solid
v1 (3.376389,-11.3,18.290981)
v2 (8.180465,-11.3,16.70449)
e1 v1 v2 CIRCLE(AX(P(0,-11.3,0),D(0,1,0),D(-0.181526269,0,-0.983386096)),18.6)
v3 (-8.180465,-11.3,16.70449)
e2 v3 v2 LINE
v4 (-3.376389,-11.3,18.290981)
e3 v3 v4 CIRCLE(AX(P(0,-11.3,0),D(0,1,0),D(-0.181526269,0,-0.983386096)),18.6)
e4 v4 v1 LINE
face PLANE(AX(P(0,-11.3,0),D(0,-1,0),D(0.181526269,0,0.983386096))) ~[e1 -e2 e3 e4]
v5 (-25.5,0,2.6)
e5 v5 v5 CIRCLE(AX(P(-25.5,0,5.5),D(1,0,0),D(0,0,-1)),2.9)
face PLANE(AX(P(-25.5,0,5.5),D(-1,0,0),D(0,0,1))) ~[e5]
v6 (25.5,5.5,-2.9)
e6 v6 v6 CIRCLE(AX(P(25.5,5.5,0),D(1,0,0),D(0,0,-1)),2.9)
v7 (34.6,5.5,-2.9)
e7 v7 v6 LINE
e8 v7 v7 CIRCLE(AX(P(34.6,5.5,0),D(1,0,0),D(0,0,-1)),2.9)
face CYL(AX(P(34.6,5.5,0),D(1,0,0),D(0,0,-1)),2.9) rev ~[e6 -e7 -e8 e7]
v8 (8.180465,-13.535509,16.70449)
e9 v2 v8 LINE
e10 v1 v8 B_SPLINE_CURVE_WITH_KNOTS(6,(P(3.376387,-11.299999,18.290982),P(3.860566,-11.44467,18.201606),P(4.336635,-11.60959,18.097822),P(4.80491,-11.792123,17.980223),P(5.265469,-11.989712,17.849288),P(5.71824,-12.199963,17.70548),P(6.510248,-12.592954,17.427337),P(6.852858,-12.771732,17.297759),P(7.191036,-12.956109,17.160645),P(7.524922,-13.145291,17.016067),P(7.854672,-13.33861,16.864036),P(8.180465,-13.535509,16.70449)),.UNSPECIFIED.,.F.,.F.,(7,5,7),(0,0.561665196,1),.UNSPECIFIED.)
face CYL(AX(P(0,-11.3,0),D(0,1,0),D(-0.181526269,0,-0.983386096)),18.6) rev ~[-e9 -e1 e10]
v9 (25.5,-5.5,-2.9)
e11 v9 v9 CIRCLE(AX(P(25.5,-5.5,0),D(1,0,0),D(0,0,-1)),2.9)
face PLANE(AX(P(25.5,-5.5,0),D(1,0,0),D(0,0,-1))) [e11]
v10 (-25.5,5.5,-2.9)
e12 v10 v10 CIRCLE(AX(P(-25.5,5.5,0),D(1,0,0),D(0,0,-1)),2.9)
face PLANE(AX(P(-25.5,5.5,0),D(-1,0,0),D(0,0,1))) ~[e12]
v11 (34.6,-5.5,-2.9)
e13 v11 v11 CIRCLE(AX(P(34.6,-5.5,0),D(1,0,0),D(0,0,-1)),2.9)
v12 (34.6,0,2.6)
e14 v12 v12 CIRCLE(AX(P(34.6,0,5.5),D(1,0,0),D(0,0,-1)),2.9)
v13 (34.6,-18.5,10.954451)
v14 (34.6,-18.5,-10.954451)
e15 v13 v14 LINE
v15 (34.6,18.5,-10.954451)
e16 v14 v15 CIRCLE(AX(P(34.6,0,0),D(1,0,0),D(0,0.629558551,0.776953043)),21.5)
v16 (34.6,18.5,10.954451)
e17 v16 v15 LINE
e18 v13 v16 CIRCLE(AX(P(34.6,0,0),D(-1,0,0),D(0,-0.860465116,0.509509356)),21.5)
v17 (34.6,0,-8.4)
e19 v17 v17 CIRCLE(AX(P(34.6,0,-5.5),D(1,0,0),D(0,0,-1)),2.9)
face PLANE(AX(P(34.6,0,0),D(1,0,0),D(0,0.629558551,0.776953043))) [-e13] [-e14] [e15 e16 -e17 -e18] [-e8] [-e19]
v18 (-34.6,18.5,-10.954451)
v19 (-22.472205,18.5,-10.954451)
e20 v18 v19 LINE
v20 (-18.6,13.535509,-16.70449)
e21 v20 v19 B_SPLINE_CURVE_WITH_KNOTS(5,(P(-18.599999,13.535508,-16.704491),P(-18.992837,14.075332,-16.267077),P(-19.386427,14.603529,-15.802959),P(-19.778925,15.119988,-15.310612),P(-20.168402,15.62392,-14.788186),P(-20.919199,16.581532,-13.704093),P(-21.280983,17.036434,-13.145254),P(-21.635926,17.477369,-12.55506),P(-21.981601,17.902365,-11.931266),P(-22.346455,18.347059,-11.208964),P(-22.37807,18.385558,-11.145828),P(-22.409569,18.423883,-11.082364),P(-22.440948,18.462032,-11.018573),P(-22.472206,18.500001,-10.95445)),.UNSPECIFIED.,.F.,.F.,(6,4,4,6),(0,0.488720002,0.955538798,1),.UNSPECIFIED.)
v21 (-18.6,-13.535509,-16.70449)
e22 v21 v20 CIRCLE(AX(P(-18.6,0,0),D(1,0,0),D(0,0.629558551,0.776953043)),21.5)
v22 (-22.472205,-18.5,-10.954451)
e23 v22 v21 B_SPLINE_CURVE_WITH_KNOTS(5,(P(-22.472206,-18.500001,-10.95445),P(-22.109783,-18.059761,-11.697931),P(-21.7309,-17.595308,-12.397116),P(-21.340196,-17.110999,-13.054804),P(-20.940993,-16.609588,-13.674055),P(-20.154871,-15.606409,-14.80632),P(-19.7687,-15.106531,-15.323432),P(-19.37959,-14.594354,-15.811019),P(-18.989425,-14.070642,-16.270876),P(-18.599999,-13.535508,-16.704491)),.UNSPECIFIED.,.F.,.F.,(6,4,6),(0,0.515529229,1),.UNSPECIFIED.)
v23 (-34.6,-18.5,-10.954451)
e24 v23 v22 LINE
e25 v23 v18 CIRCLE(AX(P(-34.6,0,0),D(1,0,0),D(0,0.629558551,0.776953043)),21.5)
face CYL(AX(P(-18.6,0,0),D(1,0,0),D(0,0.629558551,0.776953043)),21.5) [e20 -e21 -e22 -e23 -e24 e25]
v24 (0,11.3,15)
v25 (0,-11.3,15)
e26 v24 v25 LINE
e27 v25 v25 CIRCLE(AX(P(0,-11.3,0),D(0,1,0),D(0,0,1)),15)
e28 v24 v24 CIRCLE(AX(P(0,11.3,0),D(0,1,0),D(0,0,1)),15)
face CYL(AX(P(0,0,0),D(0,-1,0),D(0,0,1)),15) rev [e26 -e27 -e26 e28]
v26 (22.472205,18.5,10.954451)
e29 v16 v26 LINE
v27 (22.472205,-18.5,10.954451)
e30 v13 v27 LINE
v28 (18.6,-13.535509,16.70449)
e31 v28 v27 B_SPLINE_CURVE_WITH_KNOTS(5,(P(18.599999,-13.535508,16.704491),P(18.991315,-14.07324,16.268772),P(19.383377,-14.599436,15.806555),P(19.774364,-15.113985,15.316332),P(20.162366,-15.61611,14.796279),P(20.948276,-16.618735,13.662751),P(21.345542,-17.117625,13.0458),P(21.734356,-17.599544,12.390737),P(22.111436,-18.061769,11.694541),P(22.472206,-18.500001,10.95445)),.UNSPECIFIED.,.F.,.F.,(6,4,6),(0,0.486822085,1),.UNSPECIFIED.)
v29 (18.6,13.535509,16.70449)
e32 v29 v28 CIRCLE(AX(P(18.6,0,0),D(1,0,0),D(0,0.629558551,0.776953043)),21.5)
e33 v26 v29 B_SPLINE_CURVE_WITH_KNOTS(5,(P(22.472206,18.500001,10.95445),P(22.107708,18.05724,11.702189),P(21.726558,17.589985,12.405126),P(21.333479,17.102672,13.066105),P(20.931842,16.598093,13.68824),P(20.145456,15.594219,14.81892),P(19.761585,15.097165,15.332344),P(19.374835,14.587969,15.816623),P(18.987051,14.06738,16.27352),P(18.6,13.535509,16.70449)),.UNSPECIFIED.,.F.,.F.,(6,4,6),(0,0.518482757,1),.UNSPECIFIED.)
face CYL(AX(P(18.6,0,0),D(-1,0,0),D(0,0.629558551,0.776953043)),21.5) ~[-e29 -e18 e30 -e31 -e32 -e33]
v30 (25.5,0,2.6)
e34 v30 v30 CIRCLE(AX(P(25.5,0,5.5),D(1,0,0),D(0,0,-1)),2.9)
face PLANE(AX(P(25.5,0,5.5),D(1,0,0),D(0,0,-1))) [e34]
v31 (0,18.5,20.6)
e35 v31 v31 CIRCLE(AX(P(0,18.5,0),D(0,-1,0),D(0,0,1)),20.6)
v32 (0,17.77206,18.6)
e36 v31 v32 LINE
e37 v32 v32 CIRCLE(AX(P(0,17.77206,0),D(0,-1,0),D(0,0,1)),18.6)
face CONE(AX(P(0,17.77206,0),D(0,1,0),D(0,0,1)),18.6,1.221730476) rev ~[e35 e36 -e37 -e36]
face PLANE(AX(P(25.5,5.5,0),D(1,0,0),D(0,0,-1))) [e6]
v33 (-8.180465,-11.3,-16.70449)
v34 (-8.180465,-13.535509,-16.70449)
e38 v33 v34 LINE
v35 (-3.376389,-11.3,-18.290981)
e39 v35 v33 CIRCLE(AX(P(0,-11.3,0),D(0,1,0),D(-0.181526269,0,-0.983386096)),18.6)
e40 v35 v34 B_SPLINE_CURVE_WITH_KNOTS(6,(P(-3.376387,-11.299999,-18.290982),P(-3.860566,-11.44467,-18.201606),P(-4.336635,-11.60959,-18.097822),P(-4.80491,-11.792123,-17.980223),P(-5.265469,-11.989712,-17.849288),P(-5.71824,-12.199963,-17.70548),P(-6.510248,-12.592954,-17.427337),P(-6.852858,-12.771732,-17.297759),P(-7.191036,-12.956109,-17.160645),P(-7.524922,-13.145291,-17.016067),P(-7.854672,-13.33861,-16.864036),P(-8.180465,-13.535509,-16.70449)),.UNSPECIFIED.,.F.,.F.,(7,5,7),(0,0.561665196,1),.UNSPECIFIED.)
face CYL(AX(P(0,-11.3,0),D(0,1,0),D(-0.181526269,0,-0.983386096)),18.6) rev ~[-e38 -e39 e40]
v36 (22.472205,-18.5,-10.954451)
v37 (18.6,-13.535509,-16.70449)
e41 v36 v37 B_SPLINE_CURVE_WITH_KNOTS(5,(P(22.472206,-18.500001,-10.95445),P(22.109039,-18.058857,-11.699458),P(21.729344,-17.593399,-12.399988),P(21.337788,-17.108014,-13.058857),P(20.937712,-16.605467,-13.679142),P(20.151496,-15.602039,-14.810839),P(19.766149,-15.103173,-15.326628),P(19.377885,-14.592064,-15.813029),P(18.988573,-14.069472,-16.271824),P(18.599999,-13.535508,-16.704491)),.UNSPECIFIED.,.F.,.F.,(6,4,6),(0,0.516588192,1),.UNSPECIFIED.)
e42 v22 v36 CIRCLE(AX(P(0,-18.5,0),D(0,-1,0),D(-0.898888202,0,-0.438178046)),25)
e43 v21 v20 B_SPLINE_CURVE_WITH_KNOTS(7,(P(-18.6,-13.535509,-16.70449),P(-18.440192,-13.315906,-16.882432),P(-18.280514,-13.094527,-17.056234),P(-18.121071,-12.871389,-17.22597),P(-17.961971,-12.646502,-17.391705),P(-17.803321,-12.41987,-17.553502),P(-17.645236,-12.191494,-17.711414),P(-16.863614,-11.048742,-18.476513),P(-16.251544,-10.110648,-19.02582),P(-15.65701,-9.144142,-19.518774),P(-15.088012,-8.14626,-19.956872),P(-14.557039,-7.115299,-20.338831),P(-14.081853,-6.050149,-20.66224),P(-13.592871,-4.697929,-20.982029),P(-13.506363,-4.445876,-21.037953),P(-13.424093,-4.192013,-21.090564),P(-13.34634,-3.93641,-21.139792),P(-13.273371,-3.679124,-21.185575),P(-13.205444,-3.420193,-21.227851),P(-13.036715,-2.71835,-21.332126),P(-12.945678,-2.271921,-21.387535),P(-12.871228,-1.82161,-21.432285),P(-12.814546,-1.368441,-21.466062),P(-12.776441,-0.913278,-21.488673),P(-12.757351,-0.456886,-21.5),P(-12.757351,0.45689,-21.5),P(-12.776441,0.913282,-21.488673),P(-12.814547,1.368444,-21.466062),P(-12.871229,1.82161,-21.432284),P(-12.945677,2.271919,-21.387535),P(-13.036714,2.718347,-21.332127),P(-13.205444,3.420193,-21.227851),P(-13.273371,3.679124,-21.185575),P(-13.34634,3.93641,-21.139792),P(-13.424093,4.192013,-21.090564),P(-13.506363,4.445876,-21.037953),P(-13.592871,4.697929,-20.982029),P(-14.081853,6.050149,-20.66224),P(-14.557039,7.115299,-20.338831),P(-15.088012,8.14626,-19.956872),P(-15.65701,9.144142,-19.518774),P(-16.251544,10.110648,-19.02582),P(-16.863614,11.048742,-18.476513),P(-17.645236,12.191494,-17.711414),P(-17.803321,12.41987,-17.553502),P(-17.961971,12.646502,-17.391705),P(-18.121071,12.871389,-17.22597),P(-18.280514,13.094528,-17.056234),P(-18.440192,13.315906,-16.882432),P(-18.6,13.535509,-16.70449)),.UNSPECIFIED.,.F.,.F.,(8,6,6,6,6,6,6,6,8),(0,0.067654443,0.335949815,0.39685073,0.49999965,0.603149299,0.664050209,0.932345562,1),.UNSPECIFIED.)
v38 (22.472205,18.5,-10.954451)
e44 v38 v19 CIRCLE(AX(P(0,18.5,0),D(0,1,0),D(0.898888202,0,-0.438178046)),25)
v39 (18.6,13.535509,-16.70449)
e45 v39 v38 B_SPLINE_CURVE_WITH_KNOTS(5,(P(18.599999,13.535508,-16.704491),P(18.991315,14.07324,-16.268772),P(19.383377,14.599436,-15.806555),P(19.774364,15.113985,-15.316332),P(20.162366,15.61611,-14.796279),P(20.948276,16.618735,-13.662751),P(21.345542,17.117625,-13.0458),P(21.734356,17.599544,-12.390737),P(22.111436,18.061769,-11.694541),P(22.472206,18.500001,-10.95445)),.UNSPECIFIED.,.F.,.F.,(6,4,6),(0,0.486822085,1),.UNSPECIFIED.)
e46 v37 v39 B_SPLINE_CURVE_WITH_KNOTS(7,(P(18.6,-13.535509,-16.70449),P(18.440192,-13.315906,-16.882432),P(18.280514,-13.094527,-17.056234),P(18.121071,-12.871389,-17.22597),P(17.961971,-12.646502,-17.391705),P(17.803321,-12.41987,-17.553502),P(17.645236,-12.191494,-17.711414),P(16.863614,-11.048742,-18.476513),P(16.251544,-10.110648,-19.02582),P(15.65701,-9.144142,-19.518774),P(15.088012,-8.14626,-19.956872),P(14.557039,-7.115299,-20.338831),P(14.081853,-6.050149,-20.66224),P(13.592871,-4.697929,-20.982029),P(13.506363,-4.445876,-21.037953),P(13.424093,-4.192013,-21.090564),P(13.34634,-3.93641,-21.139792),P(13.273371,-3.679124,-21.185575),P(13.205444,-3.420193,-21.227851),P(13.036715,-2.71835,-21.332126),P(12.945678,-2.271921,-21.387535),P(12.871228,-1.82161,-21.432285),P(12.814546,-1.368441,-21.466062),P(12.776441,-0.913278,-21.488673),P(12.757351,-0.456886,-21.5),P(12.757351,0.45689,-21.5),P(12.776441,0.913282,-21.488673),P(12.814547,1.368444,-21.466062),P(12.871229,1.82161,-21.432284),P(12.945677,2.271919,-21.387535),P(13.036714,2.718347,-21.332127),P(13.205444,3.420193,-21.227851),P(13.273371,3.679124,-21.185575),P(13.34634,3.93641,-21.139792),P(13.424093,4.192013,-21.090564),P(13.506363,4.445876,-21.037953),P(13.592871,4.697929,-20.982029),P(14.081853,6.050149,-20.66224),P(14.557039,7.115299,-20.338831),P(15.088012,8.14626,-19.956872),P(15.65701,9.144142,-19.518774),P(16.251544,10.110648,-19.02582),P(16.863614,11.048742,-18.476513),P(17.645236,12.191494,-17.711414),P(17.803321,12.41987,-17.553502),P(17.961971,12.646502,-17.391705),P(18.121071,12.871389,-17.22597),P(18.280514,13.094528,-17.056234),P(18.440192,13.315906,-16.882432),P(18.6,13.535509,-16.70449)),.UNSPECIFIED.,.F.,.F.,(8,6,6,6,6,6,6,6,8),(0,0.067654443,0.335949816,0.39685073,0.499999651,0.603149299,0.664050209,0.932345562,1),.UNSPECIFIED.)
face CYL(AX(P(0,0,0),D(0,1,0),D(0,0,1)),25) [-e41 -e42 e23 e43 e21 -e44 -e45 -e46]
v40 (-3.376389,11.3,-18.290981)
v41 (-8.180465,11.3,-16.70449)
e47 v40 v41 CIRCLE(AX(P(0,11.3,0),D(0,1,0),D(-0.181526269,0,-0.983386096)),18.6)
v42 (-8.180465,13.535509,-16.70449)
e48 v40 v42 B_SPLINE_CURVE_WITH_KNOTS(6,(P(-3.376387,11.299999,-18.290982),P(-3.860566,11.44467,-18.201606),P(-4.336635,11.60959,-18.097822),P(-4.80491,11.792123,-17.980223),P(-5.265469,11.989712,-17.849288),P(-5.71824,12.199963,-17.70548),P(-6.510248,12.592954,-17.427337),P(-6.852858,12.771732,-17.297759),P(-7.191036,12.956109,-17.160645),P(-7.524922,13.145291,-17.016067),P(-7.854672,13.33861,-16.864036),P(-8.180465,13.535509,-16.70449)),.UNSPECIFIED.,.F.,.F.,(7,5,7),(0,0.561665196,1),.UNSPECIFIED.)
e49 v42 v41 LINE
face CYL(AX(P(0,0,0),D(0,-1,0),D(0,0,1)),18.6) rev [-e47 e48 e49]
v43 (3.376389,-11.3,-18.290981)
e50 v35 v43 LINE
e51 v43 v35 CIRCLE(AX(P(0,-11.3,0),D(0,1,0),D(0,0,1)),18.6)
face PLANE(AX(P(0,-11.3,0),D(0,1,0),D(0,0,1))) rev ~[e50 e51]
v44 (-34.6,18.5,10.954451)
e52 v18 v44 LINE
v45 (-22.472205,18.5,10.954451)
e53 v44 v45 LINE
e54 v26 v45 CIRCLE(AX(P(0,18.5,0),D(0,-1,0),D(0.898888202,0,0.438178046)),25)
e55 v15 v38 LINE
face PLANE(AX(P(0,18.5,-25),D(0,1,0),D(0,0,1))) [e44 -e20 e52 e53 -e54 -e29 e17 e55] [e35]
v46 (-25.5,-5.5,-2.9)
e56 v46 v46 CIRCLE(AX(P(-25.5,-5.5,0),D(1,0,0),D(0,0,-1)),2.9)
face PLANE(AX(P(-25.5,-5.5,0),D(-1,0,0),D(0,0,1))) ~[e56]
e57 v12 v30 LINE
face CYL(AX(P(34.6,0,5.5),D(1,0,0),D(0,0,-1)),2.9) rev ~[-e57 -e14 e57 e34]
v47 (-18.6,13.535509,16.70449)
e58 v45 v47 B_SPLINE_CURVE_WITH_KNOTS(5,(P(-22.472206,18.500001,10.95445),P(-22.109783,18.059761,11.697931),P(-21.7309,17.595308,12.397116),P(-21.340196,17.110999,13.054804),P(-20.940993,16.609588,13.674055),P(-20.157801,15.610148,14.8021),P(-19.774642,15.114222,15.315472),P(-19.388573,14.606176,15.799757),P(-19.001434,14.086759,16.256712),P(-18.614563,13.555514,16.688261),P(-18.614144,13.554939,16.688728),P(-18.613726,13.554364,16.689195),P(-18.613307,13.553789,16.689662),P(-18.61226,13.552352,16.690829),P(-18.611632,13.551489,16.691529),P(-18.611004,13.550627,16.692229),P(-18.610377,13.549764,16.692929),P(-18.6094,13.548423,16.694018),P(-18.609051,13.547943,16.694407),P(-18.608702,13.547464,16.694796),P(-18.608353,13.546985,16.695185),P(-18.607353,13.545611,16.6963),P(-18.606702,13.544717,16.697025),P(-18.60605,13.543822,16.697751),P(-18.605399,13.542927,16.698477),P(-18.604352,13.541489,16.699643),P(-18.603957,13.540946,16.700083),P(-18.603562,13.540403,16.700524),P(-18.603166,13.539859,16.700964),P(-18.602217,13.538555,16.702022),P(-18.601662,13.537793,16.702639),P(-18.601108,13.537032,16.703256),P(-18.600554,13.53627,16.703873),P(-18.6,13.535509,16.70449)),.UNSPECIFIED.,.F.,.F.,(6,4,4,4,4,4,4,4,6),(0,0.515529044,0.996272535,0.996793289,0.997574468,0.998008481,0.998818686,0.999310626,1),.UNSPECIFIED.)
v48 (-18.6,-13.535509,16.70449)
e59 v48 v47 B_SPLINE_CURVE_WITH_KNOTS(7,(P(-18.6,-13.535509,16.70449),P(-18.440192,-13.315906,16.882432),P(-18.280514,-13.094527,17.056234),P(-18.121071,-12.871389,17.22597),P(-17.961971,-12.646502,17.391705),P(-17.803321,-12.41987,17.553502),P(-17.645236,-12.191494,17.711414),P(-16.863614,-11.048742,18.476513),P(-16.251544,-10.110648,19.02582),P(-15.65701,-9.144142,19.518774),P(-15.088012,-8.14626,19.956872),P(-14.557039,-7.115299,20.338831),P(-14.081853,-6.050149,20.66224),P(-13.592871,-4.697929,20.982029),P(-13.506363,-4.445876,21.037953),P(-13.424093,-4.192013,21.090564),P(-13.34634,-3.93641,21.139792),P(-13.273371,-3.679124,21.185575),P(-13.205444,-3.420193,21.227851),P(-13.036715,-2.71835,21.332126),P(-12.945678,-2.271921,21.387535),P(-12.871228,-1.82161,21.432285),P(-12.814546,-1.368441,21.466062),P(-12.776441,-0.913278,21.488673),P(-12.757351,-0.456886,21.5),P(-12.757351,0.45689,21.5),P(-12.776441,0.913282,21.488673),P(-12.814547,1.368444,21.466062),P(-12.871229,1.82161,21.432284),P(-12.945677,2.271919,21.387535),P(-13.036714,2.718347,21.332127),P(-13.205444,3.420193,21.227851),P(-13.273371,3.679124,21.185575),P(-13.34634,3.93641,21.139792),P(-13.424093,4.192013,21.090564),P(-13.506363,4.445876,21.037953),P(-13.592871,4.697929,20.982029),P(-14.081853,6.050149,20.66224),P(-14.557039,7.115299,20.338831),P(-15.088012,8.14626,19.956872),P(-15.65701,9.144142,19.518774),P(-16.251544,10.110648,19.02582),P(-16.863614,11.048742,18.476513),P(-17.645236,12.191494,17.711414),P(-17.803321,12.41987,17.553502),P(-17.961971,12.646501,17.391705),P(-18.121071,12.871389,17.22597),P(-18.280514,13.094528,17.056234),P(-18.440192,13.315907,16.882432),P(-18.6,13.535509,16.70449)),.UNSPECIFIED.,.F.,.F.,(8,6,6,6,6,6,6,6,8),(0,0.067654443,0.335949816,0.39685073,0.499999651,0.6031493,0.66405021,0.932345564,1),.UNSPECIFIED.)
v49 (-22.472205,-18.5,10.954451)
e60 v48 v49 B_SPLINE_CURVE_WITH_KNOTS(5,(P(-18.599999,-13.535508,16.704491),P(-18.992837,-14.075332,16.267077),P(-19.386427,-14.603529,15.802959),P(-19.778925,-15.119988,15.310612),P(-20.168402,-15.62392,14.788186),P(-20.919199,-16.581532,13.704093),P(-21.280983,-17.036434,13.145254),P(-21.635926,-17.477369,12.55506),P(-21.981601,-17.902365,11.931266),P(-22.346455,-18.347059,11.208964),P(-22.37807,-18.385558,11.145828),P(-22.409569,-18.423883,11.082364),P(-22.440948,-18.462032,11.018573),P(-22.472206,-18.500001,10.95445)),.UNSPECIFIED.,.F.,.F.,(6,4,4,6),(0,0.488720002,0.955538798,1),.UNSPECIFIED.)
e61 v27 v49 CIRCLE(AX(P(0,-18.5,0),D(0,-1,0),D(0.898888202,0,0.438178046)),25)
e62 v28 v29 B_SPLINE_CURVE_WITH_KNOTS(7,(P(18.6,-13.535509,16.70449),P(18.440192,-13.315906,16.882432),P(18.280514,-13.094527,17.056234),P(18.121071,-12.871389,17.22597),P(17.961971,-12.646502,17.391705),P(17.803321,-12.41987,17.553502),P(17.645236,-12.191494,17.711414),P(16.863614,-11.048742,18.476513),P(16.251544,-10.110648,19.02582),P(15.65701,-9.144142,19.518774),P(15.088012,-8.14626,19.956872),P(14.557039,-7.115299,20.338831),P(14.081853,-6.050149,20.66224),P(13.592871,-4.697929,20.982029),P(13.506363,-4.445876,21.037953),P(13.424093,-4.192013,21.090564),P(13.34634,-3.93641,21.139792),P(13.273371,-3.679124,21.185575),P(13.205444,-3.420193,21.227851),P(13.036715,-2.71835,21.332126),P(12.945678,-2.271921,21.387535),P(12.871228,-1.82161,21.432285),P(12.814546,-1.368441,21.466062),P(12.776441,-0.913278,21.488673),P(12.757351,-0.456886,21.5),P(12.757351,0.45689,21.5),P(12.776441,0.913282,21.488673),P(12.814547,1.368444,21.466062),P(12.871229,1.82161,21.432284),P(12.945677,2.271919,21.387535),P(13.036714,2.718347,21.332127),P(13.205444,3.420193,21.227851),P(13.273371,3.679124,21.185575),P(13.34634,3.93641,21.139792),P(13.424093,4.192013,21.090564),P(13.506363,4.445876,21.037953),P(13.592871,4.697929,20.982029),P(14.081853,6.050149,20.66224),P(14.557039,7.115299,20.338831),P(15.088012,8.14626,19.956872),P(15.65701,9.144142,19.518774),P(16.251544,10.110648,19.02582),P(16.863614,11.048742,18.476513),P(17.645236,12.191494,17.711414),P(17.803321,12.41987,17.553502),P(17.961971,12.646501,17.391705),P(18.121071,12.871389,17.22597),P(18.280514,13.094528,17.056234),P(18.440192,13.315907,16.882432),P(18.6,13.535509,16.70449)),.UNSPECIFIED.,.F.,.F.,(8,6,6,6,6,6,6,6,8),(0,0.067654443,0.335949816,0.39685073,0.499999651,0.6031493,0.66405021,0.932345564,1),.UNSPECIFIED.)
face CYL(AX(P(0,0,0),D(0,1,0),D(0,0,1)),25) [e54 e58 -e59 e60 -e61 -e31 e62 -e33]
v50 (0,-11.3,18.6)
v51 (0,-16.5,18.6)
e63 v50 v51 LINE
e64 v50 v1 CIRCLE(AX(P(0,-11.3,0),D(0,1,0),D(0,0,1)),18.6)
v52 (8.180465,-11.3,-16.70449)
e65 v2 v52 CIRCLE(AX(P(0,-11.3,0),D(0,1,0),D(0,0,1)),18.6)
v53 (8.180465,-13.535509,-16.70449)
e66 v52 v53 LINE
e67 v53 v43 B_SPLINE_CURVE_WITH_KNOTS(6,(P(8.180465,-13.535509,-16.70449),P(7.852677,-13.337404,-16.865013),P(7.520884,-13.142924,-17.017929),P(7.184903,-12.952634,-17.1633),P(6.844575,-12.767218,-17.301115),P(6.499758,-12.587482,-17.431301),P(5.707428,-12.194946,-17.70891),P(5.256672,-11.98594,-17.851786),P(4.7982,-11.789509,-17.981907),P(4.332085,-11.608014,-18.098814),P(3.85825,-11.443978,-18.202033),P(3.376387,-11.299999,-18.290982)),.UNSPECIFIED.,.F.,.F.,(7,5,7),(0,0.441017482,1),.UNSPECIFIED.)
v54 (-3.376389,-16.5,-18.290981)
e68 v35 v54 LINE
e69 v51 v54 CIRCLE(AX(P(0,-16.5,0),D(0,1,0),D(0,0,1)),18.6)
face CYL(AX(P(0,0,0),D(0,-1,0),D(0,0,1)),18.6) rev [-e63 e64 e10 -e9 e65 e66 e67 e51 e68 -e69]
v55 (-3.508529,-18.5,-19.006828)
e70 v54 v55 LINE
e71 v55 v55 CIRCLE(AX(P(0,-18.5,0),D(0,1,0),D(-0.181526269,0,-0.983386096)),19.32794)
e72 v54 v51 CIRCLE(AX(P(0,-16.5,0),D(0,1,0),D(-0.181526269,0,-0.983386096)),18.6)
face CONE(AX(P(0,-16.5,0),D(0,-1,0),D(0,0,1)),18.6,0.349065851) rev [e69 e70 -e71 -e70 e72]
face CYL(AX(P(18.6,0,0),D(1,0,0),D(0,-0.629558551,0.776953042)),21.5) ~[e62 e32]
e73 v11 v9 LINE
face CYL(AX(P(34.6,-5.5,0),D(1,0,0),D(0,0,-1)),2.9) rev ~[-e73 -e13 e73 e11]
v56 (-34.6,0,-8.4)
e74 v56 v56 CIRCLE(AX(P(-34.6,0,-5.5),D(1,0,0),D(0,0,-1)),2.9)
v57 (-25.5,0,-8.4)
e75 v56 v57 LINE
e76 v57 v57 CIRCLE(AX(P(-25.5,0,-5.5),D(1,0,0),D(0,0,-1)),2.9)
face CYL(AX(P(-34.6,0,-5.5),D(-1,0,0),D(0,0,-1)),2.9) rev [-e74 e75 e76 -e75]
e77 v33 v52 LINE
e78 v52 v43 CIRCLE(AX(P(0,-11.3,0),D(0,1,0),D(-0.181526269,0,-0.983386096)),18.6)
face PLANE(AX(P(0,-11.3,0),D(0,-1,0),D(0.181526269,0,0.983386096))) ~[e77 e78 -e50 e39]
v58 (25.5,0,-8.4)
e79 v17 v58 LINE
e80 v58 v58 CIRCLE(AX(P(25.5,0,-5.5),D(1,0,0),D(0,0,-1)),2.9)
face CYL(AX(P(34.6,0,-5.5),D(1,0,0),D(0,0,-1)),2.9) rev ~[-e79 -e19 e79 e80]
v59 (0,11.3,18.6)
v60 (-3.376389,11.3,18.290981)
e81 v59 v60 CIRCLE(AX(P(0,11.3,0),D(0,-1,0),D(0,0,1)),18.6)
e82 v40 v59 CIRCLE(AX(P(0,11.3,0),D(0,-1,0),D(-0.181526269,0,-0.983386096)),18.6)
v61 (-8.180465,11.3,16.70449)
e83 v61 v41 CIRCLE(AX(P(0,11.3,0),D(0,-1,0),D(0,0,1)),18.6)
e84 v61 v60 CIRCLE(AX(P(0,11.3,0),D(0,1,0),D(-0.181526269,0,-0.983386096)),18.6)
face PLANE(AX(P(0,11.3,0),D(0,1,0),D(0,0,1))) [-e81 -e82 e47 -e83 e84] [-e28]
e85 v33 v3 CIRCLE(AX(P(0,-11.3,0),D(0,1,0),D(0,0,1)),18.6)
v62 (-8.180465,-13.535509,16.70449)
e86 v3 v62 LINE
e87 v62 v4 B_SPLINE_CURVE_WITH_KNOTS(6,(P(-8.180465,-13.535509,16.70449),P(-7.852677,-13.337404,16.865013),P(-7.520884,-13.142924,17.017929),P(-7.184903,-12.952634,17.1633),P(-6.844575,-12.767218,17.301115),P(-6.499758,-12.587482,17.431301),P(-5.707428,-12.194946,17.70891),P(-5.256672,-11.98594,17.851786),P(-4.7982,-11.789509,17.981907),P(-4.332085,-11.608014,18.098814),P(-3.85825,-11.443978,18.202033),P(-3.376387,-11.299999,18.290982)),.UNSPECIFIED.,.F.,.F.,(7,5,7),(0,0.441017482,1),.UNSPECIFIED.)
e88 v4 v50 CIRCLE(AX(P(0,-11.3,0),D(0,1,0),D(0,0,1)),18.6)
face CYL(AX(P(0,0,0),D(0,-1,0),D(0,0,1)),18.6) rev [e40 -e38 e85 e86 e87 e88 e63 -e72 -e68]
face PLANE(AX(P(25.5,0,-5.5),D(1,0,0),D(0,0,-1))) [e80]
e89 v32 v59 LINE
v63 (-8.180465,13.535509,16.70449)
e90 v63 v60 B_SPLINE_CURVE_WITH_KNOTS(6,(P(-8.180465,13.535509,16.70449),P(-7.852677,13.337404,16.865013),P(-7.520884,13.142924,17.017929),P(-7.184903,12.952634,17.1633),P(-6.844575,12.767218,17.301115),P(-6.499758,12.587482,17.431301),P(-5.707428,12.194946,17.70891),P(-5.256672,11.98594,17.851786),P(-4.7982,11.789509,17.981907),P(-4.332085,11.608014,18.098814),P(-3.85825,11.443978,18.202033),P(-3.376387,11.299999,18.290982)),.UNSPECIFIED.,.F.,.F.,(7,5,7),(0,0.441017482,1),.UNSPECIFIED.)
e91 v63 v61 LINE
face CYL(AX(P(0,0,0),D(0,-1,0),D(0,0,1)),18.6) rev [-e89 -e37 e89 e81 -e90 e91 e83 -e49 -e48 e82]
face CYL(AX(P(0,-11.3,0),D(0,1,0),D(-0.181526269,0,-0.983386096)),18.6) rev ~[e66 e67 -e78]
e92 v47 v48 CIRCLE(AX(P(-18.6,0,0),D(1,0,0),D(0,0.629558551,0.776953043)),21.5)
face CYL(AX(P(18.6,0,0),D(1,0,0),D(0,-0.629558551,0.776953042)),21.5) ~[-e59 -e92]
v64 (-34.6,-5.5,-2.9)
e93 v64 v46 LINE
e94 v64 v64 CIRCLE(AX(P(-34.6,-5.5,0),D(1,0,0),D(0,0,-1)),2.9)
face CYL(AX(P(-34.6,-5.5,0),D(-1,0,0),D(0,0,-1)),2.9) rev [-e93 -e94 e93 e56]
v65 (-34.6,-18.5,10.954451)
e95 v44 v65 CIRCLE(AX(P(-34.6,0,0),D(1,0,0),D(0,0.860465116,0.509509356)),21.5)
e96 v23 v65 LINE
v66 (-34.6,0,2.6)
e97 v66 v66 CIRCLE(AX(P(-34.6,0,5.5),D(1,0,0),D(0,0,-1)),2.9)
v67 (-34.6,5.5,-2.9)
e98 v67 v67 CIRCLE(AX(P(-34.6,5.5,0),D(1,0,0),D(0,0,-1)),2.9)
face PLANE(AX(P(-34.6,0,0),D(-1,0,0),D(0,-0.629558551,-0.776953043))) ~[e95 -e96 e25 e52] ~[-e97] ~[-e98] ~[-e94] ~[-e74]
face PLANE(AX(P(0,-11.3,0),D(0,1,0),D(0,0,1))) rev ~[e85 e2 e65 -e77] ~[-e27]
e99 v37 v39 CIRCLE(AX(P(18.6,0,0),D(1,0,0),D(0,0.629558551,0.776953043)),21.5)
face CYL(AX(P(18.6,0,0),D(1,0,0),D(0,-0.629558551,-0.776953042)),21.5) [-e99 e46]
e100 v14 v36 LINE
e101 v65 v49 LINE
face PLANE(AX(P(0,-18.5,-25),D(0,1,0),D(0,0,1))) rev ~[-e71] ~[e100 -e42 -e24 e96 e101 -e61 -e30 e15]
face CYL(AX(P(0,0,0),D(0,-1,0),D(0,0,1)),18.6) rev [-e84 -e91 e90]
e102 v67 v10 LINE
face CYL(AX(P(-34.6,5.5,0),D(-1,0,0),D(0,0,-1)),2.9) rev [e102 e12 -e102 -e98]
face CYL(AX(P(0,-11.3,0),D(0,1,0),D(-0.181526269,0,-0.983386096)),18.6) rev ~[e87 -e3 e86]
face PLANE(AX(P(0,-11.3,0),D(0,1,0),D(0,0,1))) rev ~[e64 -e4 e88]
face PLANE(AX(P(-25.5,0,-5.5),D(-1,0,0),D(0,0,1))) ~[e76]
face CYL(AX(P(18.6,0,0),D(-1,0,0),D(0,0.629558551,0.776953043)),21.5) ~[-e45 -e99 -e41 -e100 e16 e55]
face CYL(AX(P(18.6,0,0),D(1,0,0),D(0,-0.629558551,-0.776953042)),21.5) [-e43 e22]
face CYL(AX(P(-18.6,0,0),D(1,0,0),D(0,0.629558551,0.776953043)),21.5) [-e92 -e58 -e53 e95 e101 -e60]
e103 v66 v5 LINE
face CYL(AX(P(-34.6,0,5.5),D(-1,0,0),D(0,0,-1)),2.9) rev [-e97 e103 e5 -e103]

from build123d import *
from OCP.BRepFilletAPI import BRepFilletAPI_MakeChamfer
from build123d.topology import SkipClean

# Parameters (mm, degrees)
SKIZZE1_R                            = 25
SKIZZE1_R_2                          = 18.6
AUFSATZ_LINEAR_AUSTRAGEN1_DEPTH      = 18.5
SKIZZE2_R                            = 18.6
SKIZZE2_R_2                          = 15
AUFSATZ_LINEAR_AUSTRAGEN2_DEPTH      = 11.3
SKIZZE3_R                            = 21.5
AUFSATZ_LINEAR_AUSTRAGEN3_DEPTH      = 16
SKIZZE4_R                            = 2.9
SCHNITT_LINEAR_AUSTRAGEN1_DEPTH      = 9.1
SKIZZE5_OUTSIDE_W                    = 64.118
SKIZZE5_OUTSIDE_H                    = 71.118
SKIZZE5_OUTSIDE_W_2                  = 37
SKIZZE5_OUTSIDE_H_2                  = 50
SCHNITT_LINEAR_AUSTRAGEN2_DEPTH      = 67.342867843
SCHNITT_LINEAR_AUSTRAGEN2_DEPTH_BACK = 67.342867843
AUFSATZ_LINEAR_AUSTRAGEN4_DEPTH      = 37.2
SKIZZE8_R                            = 18.6
SCHNITT_LINEAR_AUSTRAGEN3_DEPTH      = 53.059581422
FASE1_SIZE                           = 2
FASE1_SIZE2                          = 0.727940469


with BuildPart() as part:
    # Skizze1 → Aufsatz-Linear austragen1 (new, symmetric)
    with BuildSketch(Plane(origin=(0, 0, 0), x_dir=(1, 0, 0), z_dir=(0, 1, 0))):
        with Locations(Location((0, 0, 0), (0, 0, 270))):
            Circle(SKIZZE1_R)
        with Locations(Location((0, 0, 0), (0, 0, 270))):
            Circle(SKIZZE1_R_2, mode=Mode.SUBTRACT)
    extrude(amount=AUFSATZ_LINEAR_AUSTRAGEN1_DEPTH, both=True)

    # Skizze2 → Aufsatz-Linear austragen2 (add, symmetric)
    with BuildSketch(Plane(origin=(0, 0, 0), x_dir=(1, 0, 0), z_dir=(0, 1, 0))):
        with Locations(Location((0, 0, 0), (0, 0, 270))):
            Circle(SKIZZE2_R)
        with Locations(Location((0, 0, 0), (0, 0, 270))):
            Circle(SKIZZE2_R_2, mode=Mode.SUBTRACT)
    extrude(amount=AUFSATZ_LINEAR_AUSTRAGEN2_DEPTH, both=True)

    # Skizze3 → Aufsatz-Linear austragen3 (add)
    with BuildSketch(Plane(origin=(18.6, 0, 0), x_dir=(0, 0, -1), z_dir=(1, 0, 0))):
        with Locations(Location((0, 0, 0), (0, 0, 140.982439232))):
            Circle(SKIZZE3_R)
    aufsatz_linear_austragen3 = extrude(amount=AUFSATZ_LINEAR_AUSTRAGEN3_DEPTH)

    # Skizze4 → Schnitt-Linear austragen1 (cut)
    with BuildSketch(Plane(origin=(34.6, 0, 0), x_dir=(0, 0, -1), z_dir=(1, 0, 0))):
        with Locations((-5.5, 0)):
            Circle(SKIZZE4_R)
        with Locations((0, 5.5)):
            Circle(SKIZZE4_R)
        with Locations((5.5, 0)):
            Circle(SKIZZE4_R)
        with Locations((0, -5.5)):
            Circle(SKIZZE4_R)
    schnitt_linear_austragen1 = extrude(amount=-SCHNITT_LINEAR_AUSTRAGEN1_DEPTH, mode=Mode.SUBTRACT)

    # Spiegeln1: Aufsatz-Linear austragen3, Schnitt-Linear austragen1 across plane
    add(aufsatz_linear_austragen3.mirror(Plane(origin=(0, 0, 0), x_dir=(0, 0, 1), z_dir=(1, 0, 0))))
    add(schnitt_linear_austragen1.mirror(Plane(origin=(0, 0, 0), x_dir=(0, 0, 1), z_dir=(1, 0, 0))), mode=Mode.SUBTRACT)

    # Skizze5 outside → Schnitt-Linear austragen2 (cut, two sides)
    with BuildSketch(Plane(origin=(0, 29.28598322, 0), x_dir=(0, -1, 0), z_dir=(-1, 0, 0))) as schnitt_linear_austragen2_sk:
        with Locations((29.286, 0)):
            Rectangle(SKIZZE5_OUTSIDE_W, SKIZZE5_OUTSIDE_H)
        with Locations((29.28598322, 0)):
            Rectangle(SKIZZE5_OUTSIDE_W_2, SKIZZE5_OUTSIDE_H_2, mode=Mode.SUBTRACT)
    extrude(amount=SCHNITT_LINEAR_AUSTRAGEN2_DEPTH, mode=Mode.SUBTRACT)
    extrude(schnitt_linear_austragen2_sk.sketch, amount=-SCHNITT_LINEAR_AUSTRAGEN2_DEPTH_BACK, mode=Mode.SUBTRACT)

    # Skizze7 → Aufsatz-Linear austragen4 (add)
    with BuildSketch(Plane.ZY.offset(-18.6)):
        with BuildLine():
            Line((16.704490414, 13.535508856), (16.704490414, -13.535508856))
            ThreePointArc((16.704490414, -13.535508856), (21.5, 0), (16.704490414, 13.535508856))
        make_face()
    aufsatz_linear_austragen4 = extrude(amount=AUFSATZ_LINEAR_AUSTRAGEN4_DEPTH)

    # Spiegeln2: Aufsatz-Linear austragen4 across plane
    add(aufsatz_linear_austragen4.mirror(Plane.XY))

    # Skizze8 → Schnitt-Linear austragen3 (cut, through all)
    with BuildSketch(Plane(origin=(0, 11.3, 0), x_dir=(1, 0, 0), z_dir=(0, 1, 0))):
        with Locations(Location((0, 0, 0), (0, 0, 100.458673289))):
            Circle(SKIZZE8_R)
    schnitt_linear_austragen3 = extrude(amount=SCHNITT_LINEAR_AUSTRAGEN3_DEPTH, mode=Mode.SUBTRACT)

    # Spiegeln3: Schnitt-Linear austragen3 across plane
    with SkipClean():  # the faces are left unmerged after this step: merging them gives an invalid solid
        add(schnitt_linear_austragen3.mirror(Plane.ZX), mode=Mode.SUBTRACT)

    # Fase1: one chamfer whose edges measure the first distance from different faces: ONE call of the kernel's chamfer builder (chamfer() names one face for all edges)
    fase1_edges_1 = [part.edges().sort_by_distance(p)[0] for p in [
        (18.522584239, -18.5, -1.695250166),
    ]]
    fase1_side_1 = [part.faces().sort_by_distance(p)[0] for p in [
        (18.522584239, -14.9, -1.695250166),
    ]]
    fase1_edges_2 = [part.edges().sort_by_distance(p)[0] for p in [
        (0, 18.5, -18.6),
    ]]
    fase1_side_2 = [part.faces().sort_by_distance(p)[0] for p in [
        (0, 18.5, 24.146264678),
    ]]
    fase1 = BRepFilletAPI_MakeChamfer(part.part.solid().wrapped)
    for e in fase1_edges_1:
        fase1.Add(FASE1_SIZE, FASE1_SIZE2, e.wrapped, fase1_side_1[0].wrapped)  # the first distance lies on this face
    for e in fase1_edges_2:
        fase1.Add(FASE1_SIZE, FASE1_SIZE2, e.wrapped, fase1_side_2[0].wrapped)  # the first distance lies on this face
    add(Compound.cast(fase1.Shape()), mode=Mode.REPLACE)


solid = part.part
